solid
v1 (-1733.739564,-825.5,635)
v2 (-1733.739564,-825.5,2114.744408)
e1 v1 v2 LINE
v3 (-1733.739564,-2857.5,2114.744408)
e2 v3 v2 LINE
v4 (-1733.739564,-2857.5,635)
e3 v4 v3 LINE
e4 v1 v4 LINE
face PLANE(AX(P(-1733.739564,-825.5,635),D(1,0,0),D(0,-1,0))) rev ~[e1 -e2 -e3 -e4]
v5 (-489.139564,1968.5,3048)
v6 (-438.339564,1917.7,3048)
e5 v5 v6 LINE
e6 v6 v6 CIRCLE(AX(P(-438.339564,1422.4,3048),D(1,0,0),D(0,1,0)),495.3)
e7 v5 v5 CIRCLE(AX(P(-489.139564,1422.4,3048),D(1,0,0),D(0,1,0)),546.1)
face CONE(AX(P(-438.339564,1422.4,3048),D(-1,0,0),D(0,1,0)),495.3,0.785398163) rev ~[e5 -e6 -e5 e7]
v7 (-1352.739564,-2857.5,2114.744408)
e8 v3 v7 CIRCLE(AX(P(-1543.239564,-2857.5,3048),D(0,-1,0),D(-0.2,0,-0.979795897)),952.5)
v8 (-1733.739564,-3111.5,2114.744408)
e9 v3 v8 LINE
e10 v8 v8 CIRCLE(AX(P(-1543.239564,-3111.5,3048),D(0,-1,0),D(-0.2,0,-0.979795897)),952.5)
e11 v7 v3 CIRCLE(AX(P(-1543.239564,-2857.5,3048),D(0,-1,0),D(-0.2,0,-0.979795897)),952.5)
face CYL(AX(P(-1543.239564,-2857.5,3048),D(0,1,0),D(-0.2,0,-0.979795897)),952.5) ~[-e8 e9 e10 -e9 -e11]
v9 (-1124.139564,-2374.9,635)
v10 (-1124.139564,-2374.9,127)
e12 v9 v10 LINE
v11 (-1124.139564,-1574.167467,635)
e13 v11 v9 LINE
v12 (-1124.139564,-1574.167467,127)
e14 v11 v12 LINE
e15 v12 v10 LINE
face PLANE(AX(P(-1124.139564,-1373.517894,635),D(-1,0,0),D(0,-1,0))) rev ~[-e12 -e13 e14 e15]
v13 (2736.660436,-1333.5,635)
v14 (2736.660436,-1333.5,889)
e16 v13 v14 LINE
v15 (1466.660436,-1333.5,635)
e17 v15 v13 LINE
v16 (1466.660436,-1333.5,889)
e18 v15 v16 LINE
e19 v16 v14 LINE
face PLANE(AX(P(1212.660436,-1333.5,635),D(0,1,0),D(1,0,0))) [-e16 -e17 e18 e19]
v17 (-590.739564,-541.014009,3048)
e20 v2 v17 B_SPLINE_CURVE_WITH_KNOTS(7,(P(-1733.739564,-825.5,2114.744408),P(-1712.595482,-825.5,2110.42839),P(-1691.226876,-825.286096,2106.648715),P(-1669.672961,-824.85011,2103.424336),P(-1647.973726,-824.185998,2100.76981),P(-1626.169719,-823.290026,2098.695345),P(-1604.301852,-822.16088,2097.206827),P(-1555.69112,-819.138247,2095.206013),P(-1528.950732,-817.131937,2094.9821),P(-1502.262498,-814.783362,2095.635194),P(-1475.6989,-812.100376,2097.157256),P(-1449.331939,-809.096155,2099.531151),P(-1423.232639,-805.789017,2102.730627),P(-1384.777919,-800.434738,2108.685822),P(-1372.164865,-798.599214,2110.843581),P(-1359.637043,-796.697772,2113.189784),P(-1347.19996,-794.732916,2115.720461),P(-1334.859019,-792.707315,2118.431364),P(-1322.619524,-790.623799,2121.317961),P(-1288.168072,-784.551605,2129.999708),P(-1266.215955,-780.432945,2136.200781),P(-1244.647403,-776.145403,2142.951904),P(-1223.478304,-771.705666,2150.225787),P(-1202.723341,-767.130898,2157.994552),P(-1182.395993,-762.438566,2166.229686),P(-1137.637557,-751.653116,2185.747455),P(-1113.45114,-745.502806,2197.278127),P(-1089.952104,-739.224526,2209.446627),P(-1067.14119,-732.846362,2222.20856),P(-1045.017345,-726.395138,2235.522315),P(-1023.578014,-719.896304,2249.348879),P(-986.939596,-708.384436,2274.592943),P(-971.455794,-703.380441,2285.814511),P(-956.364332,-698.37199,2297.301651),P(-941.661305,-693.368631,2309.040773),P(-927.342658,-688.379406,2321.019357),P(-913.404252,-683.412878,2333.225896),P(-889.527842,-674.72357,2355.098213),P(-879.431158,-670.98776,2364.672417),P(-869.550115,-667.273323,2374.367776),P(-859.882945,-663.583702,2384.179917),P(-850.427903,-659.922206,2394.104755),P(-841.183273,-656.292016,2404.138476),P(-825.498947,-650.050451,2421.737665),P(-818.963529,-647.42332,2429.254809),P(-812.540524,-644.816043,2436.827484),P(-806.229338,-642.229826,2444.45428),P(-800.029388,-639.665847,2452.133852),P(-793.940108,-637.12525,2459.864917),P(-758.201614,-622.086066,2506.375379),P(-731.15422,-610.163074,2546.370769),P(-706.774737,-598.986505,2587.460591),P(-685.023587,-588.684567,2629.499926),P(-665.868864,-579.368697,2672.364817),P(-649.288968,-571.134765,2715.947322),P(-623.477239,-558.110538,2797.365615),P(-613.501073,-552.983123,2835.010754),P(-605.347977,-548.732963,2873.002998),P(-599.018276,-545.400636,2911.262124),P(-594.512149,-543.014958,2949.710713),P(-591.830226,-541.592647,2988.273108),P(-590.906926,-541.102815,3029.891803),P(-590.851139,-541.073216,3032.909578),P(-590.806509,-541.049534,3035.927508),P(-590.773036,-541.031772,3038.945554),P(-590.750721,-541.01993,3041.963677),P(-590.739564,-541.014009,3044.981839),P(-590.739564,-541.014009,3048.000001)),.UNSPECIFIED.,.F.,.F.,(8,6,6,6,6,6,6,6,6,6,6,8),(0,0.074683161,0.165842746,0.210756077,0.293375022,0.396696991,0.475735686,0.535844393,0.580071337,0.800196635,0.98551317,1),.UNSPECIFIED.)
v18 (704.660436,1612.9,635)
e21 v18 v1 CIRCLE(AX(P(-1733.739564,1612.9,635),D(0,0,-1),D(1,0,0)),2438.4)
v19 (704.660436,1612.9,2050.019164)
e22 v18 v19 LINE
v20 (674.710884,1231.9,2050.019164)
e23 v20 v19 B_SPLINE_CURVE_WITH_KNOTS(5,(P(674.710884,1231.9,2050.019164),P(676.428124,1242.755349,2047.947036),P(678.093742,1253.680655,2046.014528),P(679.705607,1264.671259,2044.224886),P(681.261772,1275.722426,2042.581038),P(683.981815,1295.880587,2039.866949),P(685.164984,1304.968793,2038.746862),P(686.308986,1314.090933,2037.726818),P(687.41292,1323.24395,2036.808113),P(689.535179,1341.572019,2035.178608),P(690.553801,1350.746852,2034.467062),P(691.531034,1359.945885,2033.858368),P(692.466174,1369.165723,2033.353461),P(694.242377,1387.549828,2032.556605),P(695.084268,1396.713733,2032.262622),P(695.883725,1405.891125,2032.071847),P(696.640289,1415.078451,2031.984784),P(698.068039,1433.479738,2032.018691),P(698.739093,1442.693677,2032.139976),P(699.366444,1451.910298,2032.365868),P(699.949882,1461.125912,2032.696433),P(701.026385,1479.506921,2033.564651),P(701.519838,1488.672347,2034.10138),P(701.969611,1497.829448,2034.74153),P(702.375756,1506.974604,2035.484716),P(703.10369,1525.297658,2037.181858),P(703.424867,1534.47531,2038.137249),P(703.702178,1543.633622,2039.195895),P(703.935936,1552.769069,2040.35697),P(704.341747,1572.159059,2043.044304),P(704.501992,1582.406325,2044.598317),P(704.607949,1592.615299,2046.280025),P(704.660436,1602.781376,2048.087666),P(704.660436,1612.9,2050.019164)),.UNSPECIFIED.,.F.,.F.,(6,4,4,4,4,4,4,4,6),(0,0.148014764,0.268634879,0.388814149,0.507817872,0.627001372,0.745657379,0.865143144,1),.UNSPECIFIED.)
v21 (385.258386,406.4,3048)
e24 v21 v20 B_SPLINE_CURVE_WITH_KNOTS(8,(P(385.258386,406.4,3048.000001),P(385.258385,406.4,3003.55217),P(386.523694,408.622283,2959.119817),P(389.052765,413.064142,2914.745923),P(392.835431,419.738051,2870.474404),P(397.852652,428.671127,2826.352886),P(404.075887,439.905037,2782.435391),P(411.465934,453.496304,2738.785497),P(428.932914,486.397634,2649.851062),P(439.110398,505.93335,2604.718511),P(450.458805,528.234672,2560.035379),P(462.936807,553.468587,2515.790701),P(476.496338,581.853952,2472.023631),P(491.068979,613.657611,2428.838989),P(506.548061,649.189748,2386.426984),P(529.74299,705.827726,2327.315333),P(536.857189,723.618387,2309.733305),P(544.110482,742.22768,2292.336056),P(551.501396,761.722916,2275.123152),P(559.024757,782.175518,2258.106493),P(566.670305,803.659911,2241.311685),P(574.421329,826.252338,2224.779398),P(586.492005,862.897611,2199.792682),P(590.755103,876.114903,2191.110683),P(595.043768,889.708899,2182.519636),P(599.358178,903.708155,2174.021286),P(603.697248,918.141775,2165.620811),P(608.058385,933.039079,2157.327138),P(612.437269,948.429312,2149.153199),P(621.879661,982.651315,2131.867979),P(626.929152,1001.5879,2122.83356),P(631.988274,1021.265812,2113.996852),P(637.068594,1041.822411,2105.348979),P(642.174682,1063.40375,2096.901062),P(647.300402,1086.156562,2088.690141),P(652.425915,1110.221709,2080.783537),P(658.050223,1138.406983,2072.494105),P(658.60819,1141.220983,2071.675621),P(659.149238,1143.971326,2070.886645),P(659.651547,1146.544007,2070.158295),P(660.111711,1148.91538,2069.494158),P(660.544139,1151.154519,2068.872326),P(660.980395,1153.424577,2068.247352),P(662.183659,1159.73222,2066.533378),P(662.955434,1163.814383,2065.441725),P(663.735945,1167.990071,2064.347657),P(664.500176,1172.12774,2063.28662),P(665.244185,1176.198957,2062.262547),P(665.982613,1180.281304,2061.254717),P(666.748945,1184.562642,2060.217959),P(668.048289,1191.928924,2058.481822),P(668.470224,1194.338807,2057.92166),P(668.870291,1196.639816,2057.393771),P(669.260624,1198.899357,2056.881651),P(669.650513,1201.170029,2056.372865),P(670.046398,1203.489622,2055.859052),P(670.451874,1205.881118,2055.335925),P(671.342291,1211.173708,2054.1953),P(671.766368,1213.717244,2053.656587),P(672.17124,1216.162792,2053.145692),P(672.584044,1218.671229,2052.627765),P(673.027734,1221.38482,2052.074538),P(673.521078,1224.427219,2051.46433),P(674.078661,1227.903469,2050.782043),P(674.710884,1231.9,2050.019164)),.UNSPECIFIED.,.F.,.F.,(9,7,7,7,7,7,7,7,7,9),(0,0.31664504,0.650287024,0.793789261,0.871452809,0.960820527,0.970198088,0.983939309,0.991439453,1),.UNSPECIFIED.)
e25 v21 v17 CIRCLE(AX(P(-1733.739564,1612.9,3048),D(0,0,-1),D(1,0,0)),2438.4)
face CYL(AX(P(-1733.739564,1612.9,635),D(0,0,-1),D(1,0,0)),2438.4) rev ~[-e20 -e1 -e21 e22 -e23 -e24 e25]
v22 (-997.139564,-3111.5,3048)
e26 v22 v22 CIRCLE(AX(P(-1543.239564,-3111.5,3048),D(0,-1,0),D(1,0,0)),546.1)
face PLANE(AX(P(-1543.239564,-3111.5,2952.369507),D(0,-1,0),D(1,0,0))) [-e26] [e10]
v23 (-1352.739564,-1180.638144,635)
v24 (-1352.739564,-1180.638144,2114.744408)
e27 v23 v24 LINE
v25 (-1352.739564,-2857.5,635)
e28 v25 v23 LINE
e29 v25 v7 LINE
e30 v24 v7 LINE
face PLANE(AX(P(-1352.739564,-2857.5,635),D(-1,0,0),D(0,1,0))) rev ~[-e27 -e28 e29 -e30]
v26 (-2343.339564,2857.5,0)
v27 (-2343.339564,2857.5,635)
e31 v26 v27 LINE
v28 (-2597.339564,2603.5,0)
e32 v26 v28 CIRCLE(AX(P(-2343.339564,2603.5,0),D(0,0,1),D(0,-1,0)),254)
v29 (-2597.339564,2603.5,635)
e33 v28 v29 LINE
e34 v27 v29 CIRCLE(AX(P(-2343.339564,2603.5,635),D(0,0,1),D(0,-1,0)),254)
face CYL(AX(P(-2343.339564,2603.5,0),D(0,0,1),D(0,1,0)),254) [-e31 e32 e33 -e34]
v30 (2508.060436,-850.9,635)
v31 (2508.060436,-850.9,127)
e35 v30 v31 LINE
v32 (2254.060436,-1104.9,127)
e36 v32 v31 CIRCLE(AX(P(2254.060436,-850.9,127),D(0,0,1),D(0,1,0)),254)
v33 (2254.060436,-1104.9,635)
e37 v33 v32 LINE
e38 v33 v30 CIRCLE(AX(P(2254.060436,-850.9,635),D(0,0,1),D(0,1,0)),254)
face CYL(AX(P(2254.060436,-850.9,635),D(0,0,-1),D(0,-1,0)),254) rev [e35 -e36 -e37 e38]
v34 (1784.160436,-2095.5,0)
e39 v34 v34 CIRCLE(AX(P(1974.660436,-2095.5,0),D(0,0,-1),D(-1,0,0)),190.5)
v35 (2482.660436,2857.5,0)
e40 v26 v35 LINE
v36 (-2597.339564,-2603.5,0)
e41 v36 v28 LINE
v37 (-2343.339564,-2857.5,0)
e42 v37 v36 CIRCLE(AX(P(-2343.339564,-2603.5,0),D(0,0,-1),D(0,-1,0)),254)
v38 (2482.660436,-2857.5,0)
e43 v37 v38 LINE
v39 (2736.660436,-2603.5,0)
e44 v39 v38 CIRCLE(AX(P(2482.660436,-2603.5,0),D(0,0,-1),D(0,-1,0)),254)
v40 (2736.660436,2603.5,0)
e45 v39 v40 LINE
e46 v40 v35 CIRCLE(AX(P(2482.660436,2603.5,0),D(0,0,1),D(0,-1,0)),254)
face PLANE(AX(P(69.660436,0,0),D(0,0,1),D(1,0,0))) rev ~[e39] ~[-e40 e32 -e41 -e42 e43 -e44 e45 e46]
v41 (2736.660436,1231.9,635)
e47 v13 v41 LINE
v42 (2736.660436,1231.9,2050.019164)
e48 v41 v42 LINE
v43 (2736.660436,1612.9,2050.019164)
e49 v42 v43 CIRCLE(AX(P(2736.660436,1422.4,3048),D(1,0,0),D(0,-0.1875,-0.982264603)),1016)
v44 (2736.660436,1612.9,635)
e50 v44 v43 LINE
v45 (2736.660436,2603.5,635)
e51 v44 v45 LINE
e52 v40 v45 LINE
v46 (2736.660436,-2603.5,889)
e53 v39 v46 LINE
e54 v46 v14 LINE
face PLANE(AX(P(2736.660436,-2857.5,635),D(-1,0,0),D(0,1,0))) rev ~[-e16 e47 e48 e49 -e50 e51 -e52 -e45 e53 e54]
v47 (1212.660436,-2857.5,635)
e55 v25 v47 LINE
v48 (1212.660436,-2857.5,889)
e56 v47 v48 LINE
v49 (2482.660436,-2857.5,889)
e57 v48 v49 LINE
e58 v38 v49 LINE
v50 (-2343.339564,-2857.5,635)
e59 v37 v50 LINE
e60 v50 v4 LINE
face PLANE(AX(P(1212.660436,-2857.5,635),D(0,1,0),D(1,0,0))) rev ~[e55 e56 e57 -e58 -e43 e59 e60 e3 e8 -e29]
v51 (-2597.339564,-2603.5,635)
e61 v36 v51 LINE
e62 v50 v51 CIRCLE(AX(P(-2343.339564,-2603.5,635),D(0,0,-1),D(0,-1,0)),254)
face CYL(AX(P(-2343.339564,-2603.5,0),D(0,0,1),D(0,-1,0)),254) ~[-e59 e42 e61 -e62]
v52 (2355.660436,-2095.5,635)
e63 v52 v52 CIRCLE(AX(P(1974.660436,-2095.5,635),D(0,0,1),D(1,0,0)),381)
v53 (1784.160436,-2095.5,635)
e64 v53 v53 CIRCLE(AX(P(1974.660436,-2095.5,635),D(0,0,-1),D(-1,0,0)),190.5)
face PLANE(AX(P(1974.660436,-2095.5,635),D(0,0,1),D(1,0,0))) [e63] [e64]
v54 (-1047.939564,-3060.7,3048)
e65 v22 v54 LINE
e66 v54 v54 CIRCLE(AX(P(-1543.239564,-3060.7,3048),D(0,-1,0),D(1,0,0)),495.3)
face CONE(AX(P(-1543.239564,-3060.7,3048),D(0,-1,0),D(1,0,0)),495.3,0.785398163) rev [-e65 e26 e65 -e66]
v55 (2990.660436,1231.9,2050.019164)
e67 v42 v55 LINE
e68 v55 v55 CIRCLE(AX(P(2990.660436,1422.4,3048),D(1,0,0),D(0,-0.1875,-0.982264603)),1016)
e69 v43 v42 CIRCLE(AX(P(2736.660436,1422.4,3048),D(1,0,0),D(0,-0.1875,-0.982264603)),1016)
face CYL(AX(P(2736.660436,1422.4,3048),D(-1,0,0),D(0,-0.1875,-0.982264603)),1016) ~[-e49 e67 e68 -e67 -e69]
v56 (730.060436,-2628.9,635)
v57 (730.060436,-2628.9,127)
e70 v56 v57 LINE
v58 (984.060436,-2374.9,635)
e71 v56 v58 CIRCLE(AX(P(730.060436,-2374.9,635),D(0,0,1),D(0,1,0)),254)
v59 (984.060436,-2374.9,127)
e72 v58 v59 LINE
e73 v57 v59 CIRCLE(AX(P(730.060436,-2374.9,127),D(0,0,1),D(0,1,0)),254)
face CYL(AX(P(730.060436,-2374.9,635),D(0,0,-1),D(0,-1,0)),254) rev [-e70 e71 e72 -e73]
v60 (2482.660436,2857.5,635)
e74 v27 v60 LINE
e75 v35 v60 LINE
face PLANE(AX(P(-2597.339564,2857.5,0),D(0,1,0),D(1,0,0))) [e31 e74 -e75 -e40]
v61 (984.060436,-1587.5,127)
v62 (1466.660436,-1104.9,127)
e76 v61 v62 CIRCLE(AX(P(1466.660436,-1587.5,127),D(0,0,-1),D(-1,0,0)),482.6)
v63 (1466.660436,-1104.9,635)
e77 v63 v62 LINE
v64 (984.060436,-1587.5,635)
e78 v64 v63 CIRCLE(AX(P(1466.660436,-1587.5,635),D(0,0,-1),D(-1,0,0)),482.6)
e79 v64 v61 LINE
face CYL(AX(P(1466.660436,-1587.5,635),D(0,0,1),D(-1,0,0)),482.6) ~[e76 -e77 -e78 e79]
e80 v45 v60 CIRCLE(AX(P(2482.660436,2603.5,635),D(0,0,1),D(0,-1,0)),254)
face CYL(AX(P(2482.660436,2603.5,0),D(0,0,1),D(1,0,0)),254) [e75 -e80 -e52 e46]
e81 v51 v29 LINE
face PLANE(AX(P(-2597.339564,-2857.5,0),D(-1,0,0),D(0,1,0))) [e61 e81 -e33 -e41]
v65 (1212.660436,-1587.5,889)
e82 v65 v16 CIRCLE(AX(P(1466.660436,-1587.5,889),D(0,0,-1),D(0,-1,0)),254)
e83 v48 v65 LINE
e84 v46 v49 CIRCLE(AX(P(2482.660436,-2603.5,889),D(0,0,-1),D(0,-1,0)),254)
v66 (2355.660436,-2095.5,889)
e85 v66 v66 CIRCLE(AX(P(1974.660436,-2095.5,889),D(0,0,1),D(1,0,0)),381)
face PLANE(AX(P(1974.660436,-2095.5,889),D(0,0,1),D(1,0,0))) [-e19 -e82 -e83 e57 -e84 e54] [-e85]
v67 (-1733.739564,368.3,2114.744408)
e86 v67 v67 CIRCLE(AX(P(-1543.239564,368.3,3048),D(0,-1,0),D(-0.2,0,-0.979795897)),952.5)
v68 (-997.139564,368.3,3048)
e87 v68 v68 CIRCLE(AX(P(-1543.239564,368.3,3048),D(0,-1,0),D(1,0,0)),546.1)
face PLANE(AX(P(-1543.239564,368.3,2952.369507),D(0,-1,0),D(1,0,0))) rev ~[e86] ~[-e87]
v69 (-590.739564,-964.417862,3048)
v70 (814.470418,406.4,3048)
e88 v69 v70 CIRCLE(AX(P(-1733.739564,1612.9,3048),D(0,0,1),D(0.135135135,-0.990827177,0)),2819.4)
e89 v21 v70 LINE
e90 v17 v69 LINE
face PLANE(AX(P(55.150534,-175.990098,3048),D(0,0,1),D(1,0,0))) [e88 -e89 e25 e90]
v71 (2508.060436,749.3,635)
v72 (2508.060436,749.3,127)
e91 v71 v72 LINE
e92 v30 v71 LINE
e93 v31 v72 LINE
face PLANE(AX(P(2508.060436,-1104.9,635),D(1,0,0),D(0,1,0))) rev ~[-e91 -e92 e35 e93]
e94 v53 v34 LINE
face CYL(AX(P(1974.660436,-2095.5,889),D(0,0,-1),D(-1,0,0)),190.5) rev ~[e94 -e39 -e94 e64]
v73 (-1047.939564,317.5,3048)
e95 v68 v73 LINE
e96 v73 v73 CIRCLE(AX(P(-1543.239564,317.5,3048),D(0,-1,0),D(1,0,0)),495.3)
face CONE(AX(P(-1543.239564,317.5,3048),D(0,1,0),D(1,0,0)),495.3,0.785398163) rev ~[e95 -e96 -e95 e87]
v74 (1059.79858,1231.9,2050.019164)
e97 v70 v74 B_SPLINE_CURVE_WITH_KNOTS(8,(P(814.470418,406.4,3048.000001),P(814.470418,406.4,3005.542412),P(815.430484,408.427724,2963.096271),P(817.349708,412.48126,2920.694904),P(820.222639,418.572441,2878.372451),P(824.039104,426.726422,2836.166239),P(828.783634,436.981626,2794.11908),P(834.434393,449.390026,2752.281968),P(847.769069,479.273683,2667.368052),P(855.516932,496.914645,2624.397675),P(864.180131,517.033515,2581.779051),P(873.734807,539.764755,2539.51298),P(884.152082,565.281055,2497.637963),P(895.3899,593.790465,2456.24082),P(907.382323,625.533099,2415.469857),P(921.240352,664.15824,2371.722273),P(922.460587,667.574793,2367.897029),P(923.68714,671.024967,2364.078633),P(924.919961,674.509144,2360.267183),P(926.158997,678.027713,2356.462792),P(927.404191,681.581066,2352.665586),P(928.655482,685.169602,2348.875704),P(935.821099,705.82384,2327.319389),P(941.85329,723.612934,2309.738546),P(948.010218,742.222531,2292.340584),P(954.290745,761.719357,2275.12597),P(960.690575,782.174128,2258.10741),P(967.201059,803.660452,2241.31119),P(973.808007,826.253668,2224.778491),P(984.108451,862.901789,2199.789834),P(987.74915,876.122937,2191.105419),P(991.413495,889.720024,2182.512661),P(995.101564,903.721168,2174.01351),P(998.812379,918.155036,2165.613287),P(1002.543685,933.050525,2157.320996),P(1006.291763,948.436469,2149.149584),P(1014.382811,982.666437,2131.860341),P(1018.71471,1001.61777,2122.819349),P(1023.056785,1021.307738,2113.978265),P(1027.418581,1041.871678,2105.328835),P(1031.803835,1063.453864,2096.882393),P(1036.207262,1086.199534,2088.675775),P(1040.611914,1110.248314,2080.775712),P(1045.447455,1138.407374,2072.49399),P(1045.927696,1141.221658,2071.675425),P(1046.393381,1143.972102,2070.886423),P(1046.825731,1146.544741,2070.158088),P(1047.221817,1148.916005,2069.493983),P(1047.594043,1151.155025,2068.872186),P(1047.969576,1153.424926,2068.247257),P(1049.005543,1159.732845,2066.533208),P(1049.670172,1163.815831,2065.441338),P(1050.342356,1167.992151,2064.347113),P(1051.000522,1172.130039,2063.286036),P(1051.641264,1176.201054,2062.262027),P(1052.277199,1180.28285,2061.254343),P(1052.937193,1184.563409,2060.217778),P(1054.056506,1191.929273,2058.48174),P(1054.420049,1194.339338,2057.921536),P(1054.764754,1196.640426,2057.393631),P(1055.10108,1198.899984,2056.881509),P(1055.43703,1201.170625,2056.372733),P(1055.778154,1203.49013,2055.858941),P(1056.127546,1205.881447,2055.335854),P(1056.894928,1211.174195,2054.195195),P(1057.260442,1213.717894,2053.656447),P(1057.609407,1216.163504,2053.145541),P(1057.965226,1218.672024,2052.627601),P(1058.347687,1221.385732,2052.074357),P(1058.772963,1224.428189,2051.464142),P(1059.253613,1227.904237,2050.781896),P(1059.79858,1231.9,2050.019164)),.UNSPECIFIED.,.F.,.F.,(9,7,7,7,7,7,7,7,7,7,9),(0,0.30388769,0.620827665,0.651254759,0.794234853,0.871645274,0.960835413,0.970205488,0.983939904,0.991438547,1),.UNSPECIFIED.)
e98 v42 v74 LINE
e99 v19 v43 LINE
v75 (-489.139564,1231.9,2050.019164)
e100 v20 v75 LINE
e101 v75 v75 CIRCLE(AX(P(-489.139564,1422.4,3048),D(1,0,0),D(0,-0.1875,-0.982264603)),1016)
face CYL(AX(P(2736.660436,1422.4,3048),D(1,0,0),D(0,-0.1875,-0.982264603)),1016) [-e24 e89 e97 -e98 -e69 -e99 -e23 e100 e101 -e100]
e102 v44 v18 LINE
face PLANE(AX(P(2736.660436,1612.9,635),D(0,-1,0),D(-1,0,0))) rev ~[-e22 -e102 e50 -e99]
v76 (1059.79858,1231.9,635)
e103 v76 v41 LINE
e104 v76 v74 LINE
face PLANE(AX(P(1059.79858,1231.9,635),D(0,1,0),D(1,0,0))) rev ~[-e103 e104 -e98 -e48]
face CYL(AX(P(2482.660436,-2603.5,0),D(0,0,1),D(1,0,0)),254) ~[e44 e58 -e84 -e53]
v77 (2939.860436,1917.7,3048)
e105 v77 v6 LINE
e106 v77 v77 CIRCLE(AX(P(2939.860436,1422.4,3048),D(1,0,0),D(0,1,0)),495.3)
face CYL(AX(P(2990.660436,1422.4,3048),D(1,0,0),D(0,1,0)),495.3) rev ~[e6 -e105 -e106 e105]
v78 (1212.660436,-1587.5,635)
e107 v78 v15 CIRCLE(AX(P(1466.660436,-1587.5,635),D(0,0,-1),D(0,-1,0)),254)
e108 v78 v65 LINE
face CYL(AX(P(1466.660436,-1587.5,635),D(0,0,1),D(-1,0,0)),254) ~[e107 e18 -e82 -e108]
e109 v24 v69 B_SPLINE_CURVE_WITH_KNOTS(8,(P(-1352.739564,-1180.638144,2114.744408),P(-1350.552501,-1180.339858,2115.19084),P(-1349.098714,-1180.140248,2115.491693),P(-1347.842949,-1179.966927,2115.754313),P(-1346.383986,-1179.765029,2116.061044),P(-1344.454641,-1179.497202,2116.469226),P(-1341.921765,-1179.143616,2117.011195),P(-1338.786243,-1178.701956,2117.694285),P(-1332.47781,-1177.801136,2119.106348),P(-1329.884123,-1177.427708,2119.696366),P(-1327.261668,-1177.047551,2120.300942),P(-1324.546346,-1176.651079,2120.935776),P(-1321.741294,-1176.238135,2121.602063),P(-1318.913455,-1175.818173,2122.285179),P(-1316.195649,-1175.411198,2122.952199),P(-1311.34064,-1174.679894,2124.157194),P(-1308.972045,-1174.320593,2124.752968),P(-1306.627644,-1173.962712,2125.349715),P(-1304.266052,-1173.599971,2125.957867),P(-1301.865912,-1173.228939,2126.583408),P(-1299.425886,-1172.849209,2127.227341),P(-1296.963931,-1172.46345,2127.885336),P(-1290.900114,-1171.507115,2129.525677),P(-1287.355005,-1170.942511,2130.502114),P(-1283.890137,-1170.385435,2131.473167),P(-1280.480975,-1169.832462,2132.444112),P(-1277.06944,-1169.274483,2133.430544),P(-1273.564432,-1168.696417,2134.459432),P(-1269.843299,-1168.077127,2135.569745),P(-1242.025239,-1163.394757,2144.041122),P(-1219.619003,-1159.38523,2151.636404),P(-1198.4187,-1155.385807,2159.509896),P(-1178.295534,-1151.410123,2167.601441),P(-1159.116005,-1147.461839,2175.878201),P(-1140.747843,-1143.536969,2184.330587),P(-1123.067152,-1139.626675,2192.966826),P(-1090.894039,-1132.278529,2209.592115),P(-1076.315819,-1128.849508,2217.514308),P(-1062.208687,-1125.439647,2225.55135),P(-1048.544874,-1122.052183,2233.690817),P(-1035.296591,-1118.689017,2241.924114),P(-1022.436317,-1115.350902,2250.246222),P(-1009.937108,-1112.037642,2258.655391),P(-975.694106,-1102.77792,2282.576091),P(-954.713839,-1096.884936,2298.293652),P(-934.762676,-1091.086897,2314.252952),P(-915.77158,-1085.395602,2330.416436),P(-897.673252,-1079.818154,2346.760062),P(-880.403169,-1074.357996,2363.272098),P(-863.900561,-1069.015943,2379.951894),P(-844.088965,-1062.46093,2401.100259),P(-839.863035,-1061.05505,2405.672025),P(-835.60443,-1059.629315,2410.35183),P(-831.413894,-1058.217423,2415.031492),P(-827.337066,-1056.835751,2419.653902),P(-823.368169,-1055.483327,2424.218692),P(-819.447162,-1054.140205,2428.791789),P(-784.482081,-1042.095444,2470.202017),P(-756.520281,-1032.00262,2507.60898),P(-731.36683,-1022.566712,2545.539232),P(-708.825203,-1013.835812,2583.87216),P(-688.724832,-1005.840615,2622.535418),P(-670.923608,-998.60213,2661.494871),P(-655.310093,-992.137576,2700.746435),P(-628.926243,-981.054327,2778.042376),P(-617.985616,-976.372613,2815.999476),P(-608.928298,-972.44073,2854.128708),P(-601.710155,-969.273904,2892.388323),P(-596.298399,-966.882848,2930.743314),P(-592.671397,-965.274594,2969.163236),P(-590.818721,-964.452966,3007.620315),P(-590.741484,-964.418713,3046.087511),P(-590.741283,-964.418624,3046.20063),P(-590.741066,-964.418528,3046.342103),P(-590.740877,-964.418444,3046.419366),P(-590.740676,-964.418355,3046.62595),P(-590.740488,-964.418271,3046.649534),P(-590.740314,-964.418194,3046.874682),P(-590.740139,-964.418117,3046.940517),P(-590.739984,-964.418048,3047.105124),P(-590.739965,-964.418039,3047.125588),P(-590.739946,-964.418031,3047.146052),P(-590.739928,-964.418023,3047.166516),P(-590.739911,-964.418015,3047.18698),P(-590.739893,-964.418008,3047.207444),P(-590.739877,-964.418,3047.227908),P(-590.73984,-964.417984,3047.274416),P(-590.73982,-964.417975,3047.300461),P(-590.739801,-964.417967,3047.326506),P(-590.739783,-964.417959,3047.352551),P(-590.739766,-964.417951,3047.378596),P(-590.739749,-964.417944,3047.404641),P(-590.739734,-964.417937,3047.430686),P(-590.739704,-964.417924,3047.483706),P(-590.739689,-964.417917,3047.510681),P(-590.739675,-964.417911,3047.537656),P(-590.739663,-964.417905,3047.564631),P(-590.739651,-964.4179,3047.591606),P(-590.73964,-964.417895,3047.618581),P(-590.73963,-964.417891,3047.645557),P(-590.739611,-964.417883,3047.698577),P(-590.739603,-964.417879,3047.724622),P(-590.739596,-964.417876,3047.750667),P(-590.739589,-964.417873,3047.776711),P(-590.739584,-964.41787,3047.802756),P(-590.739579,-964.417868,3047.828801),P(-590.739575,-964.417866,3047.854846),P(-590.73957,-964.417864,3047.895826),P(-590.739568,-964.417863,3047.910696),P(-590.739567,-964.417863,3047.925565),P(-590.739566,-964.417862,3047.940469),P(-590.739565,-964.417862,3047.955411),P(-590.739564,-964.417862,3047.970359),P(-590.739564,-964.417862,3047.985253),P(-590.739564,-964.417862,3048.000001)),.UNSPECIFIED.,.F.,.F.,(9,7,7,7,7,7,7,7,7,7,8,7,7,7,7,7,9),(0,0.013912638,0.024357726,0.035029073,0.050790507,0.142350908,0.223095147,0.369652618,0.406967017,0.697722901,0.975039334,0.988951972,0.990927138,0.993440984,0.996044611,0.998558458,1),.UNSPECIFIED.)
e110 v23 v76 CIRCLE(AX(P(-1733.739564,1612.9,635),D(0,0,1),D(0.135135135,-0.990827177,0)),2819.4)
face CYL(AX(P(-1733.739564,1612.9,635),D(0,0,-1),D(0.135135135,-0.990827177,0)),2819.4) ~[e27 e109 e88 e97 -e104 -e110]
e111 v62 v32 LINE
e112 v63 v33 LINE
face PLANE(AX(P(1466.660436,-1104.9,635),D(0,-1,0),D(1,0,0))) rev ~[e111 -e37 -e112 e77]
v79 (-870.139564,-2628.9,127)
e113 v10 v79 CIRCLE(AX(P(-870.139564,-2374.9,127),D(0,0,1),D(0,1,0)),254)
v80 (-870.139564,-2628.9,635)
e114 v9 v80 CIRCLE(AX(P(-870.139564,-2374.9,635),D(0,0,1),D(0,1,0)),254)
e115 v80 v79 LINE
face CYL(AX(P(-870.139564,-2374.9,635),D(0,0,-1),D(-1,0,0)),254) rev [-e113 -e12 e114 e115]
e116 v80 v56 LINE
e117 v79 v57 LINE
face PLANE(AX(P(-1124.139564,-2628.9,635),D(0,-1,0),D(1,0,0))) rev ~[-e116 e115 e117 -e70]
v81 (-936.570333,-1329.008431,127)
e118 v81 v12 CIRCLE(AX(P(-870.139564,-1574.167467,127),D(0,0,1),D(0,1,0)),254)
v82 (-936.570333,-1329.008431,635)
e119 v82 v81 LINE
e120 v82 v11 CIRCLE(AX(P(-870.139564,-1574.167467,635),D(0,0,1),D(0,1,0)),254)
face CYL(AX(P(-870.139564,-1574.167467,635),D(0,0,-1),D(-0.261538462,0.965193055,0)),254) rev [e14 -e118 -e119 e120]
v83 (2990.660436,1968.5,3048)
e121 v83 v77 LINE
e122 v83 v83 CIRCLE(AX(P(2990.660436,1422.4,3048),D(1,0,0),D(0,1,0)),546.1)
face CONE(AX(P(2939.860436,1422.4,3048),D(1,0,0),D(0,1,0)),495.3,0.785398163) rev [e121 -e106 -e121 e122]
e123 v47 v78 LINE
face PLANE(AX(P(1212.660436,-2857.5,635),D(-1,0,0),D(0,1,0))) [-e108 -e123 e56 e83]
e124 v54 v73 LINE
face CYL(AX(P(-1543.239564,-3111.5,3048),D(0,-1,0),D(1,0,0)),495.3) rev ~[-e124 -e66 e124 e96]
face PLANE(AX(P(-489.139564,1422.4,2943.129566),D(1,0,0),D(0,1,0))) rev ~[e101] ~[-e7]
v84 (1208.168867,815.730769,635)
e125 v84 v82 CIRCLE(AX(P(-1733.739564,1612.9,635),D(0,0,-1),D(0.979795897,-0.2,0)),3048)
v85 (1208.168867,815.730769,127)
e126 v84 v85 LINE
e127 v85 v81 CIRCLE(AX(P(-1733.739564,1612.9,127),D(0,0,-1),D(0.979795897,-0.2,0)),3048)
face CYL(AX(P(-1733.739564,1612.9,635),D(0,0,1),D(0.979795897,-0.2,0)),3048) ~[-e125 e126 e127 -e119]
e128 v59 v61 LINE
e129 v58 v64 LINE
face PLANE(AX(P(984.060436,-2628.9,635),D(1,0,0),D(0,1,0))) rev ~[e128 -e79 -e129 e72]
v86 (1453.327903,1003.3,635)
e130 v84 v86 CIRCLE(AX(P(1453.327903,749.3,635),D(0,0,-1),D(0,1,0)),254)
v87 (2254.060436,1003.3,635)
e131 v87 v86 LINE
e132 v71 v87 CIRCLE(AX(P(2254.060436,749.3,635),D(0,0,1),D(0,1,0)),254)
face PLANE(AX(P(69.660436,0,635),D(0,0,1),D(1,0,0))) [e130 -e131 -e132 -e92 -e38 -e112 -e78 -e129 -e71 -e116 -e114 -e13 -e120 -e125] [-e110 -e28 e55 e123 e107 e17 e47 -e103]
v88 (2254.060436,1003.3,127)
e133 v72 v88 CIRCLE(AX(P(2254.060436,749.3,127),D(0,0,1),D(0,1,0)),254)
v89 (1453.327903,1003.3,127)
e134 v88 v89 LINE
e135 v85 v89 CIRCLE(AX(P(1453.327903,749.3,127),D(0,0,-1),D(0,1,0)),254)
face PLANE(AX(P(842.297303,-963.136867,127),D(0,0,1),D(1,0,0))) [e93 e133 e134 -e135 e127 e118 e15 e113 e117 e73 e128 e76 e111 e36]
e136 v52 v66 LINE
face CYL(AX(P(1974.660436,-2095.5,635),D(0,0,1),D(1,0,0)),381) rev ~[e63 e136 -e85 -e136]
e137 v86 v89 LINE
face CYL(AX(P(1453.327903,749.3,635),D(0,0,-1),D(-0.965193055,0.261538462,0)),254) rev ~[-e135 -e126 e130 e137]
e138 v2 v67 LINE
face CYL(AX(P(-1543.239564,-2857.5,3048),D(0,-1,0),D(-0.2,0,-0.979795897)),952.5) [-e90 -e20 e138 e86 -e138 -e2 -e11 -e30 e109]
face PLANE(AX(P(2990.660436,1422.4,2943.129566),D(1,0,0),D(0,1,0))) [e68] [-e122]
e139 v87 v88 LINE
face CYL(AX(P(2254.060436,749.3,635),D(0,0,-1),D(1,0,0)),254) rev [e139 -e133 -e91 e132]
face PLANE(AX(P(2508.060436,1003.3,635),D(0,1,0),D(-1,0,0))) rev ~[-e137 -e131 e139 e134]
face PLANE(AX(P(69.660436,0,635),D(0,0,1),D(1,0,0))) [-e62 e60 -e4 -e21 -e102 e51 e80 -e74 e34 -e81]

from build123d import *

# Parameters (mm, degrees)
F0_W            = 5334
F0_H            = 5715
F1_DEPTH        = 635
F3_DEPTH        = 2413
F5_DEPTH        = 254
F5_DEPTH_BACK   = 3225.8
F7_DEPTH        = 254
F7_DEPTH_BACK   = 3225.8
F8_W            = 1524
F8_H            = 1524
F9_DEPTH        = 254
F10_R           = 254
F12_DEPTH       = 508
F14_D           = 381
F14_CBORE_D     = 762
F14_CBORE_DEPTH = 254
F15_R           = 254
F16_R           = 495.3
F17_DEPTH       = 4470.4
F18_R           = 495.3
F19_DEPTH       = 3835.4
F20_SIZE        = 50.8
F21_R           = 254


with BuildPart() as f1:
    # F0 (on Top) → F1 (new body)
    with BuildSketch(Plane.XY):
        with Locations((69.6604360002, 0)):
            Rectangle(F0_W, F0_H)
    extrude(amount=F1_DEPTH)

    # F2 (on face) → F3 (join)
    with BuildSketch(Plane.XY.offset(635)):
        with BuildLine():
            Line((-1733.7395639998, -825.5), (-1733.7395639998, -2857.5))
            Line((-1733.7395639998, -2857.5), (-1352.7395639998, -2857.5))
            Line((-1352.7395639998, -2857.5), (-1352.7395639998, -1180.6381436451))
            ThreePointArc((-1352.7395639998, -1180.6381436451), (259.8772948776, -380.7168588774), (1059.7985796453, 1231.9))
            Line((1059.7985796453, 1231.9), (2736.6604360002, 1231.9))
            Line((2736.6604360002, 1231.9), (2736.6604360002, 1612.9))
            Line((2736.6604360002, 1612.9), (704.6604360002, 1612.9))
            ThreePointArc((704.6604360002, 1612.9), (-9.5303887545, -111.3091752453), (-1733.7395639998, -825.5))
        make_face()
    extrude(amount=F3_DEPTH)

    # F4 (on face) → F5 (join, two sides)
    with BuildSketch(Plane.XZ.offset(2857.5)) as f5_sk:
        with BuildLine():
            ThreePointArc((-1352.7395639998, 2114.7444079996), (-805.4362365473, 2445.5861057379), (-590.7395639998, 3048))
            ThreePointArc((-590.7395639998, 3048), (-2145.6534582619, 3785.8033274525), (-1733.7395639998, 2114.7444079996))
            Line((-1733.7395639998, 2114.7444079996), (-1733.7395639998, 3048))
            Line((-1733.7395639998, 3048), (-1352.7395639998, 3048))
            Line((-1352.7395639998, 3048), (-1352.7395639998, 2114.7444079996))
        make_face()
        with BuildLine():
            Line((-1733.7395639998, 3048), (-1733.7395639998, 2114.7444079996))
            ThreePointArc((-1733.7395639998, 2114.7444079996), (-1543.2395639998, 2095.5), (-1352.7395639998, 2114.7444079996))
            Line((-1352.7395639998, 2114.7444079996), (-1352.7395639998, 3048))
            Line((-1352.7395639998, 3048), (-1733.7395639998, 3048))
        make_face()
    extrude(amount=F5_DEPTH)
    extrude(f5_sk.sketch, amount=-F5_DEPTH_BACK)

    # F6 (on face) → F7 (join, two sides)
    with BuildSketch(Plane.YZ.offset(2736.6604360002)) as f7_sk:
        with BuildLine():
            ThreePointArc((1612.9, 2050.0191635106), (2205.2805783771, 2400.4245217737), (2438.4, 3048))
            ThreePointArc((2438.4, 3048), (774.8245217737, 3830.880578377), (1231.9, 2050.0191635106))
            Line((1231.9, 2050.0191635106), (1231.9, 3048))
            Line((1231.9, 3048), (1612.9, 3048))
            Line((1612.9, 3048), (1612.9, 2050.0191635106))
        make_face()
        with BuildLine():
            Line((1231.9, 3048), (1231.9, 2050.0191635106))
            ThreePointArc((1231.9, 2050.0191635106), (1422.4, 2032), (1612.9, 2050.0191635106))
            Line((1612.9, 2050.0191635106), (1612.9, 3048))
            Line((1612.9, 3048), (1231.9, 3048))
        make_face()
    extrude(amount=F7_DEPTH)
    extrude(f7_sk.sketch, amount=-F7_DEPTH_BACK)

    # F8 (on face) → F9 (join)
    with BuildSketch(Plane.XY.offset(635)):
        with Locations((1974.6604360002, -2095.5)):
            Rectangle(F8_W, F8_H)
    extrude(amount=F9_DEPTH)

    # F10
    f10_edges = [f1.edges().sort_by_distance(p)[0] for p in [
        (1212.660436, -1333.5, 762),
    ]]
    fillet(f10_edges, radius=F10_R)

    # F11 (on face) → F12 (cut)
    with BuildSketch(Plane.XY.offset(635)):
        with BuildLine():
            ThreePointArc((1252.6783304015, 1003.3), (421.5219050568, -542.3614690566), (-1124.1395639998, -1373.5178944013))
            Line((-1124.1395639998, -1373.5178944013), (-1124.1395639998, -2628.9))
            Line((-1124.1395639998, -2628.9), (984.0604360002, -2628.9))
            Line((984.0604360002, -2628.9), (984.0604360002, -1587.5))
            ThreePointArc((984.0604360002, -1587.5), (1125.4107033996, -1246.2502673994), (1466.6604360002, -1104.9))
            Line((1466.6604360002, -1104.9), (2508.0604360002, -1104.9))
            Line((2508.0604360002, -1104.9), (2508.0604360002, 1003.3))
            Line((2508.0604360002, 1003.3), (1252.6783304015, 1003.3))
        make_face()
    extrude(amount=-F12_DEPTH, mode=Mode.SUBTRACT)

    # F14 (through all)
    with Locations(Plane.XY.offset(889)):
        with Locations((1974.6604360002, -2095.5)):
            CounterBoreHole(F14_D / 2, F14_CBORE_D / 2, F14_CBORE_DEPTH)

    # F15
    f15_edges = [f1.edges().sort_by_distance(p)[0] for p in [
        (1252.67833, 1003.3, 381),
        (2508.060436, 1003.3, 381),
        (2508.060436, -1104.9, 381),
        (-1124.139564, -1373.517894, 381),
        (-1124.139564, -2628.9, 381),
        (984.060436, -2628.9, 381),
    ]]
    fillet(f15_edges, radius=F15_R)

    # F16 (on face) → F17 (cut)
    with BuildSketch(Plane.XZ.offset(3111.5)):
        with Locations((-1543.2395639998, 3048)):
            Circle(F16_R)
    extrude(amount=-F17_DEPTH, mode=Mode.SUBTRACT)

    # F18 (on face) → F19 (cut)
    with BuildSketch(Plane.YZ.offset(2990.6604360002)):
        with Locations((1422.4, 3048)):
            Circle(F18_R)
    extrude(amount=-F19_DEPTH, mode=Mode.SUBTRACT)

    # F20
    f20_edges = [f1.edges().sort_by_distance(p)[0] for p in [
        (-2038.539564, -3111.5, 3048),
        (2990.660436, 927.1, 3048),
        (-2038.539564, 368.3, 3048),
        (-489.139564, 927.1, 3048),
    ]]
    chamfer(f20_edges, length=F20_SIZE)

    # F21
    f21_edges = [f1.edges().sort_by_distance(p)[0] for p in [
        (2736.660436, -2857.5, 444.5),
        (2736.660436, 2857.5, 317.5),
        (-2597.339564, -2857.5, 317.5),
        (-2597.339564, 2857.5, 317.5),
    ]]
    fillet(f21_edges, radius=F21_R)


solid = f1.part
